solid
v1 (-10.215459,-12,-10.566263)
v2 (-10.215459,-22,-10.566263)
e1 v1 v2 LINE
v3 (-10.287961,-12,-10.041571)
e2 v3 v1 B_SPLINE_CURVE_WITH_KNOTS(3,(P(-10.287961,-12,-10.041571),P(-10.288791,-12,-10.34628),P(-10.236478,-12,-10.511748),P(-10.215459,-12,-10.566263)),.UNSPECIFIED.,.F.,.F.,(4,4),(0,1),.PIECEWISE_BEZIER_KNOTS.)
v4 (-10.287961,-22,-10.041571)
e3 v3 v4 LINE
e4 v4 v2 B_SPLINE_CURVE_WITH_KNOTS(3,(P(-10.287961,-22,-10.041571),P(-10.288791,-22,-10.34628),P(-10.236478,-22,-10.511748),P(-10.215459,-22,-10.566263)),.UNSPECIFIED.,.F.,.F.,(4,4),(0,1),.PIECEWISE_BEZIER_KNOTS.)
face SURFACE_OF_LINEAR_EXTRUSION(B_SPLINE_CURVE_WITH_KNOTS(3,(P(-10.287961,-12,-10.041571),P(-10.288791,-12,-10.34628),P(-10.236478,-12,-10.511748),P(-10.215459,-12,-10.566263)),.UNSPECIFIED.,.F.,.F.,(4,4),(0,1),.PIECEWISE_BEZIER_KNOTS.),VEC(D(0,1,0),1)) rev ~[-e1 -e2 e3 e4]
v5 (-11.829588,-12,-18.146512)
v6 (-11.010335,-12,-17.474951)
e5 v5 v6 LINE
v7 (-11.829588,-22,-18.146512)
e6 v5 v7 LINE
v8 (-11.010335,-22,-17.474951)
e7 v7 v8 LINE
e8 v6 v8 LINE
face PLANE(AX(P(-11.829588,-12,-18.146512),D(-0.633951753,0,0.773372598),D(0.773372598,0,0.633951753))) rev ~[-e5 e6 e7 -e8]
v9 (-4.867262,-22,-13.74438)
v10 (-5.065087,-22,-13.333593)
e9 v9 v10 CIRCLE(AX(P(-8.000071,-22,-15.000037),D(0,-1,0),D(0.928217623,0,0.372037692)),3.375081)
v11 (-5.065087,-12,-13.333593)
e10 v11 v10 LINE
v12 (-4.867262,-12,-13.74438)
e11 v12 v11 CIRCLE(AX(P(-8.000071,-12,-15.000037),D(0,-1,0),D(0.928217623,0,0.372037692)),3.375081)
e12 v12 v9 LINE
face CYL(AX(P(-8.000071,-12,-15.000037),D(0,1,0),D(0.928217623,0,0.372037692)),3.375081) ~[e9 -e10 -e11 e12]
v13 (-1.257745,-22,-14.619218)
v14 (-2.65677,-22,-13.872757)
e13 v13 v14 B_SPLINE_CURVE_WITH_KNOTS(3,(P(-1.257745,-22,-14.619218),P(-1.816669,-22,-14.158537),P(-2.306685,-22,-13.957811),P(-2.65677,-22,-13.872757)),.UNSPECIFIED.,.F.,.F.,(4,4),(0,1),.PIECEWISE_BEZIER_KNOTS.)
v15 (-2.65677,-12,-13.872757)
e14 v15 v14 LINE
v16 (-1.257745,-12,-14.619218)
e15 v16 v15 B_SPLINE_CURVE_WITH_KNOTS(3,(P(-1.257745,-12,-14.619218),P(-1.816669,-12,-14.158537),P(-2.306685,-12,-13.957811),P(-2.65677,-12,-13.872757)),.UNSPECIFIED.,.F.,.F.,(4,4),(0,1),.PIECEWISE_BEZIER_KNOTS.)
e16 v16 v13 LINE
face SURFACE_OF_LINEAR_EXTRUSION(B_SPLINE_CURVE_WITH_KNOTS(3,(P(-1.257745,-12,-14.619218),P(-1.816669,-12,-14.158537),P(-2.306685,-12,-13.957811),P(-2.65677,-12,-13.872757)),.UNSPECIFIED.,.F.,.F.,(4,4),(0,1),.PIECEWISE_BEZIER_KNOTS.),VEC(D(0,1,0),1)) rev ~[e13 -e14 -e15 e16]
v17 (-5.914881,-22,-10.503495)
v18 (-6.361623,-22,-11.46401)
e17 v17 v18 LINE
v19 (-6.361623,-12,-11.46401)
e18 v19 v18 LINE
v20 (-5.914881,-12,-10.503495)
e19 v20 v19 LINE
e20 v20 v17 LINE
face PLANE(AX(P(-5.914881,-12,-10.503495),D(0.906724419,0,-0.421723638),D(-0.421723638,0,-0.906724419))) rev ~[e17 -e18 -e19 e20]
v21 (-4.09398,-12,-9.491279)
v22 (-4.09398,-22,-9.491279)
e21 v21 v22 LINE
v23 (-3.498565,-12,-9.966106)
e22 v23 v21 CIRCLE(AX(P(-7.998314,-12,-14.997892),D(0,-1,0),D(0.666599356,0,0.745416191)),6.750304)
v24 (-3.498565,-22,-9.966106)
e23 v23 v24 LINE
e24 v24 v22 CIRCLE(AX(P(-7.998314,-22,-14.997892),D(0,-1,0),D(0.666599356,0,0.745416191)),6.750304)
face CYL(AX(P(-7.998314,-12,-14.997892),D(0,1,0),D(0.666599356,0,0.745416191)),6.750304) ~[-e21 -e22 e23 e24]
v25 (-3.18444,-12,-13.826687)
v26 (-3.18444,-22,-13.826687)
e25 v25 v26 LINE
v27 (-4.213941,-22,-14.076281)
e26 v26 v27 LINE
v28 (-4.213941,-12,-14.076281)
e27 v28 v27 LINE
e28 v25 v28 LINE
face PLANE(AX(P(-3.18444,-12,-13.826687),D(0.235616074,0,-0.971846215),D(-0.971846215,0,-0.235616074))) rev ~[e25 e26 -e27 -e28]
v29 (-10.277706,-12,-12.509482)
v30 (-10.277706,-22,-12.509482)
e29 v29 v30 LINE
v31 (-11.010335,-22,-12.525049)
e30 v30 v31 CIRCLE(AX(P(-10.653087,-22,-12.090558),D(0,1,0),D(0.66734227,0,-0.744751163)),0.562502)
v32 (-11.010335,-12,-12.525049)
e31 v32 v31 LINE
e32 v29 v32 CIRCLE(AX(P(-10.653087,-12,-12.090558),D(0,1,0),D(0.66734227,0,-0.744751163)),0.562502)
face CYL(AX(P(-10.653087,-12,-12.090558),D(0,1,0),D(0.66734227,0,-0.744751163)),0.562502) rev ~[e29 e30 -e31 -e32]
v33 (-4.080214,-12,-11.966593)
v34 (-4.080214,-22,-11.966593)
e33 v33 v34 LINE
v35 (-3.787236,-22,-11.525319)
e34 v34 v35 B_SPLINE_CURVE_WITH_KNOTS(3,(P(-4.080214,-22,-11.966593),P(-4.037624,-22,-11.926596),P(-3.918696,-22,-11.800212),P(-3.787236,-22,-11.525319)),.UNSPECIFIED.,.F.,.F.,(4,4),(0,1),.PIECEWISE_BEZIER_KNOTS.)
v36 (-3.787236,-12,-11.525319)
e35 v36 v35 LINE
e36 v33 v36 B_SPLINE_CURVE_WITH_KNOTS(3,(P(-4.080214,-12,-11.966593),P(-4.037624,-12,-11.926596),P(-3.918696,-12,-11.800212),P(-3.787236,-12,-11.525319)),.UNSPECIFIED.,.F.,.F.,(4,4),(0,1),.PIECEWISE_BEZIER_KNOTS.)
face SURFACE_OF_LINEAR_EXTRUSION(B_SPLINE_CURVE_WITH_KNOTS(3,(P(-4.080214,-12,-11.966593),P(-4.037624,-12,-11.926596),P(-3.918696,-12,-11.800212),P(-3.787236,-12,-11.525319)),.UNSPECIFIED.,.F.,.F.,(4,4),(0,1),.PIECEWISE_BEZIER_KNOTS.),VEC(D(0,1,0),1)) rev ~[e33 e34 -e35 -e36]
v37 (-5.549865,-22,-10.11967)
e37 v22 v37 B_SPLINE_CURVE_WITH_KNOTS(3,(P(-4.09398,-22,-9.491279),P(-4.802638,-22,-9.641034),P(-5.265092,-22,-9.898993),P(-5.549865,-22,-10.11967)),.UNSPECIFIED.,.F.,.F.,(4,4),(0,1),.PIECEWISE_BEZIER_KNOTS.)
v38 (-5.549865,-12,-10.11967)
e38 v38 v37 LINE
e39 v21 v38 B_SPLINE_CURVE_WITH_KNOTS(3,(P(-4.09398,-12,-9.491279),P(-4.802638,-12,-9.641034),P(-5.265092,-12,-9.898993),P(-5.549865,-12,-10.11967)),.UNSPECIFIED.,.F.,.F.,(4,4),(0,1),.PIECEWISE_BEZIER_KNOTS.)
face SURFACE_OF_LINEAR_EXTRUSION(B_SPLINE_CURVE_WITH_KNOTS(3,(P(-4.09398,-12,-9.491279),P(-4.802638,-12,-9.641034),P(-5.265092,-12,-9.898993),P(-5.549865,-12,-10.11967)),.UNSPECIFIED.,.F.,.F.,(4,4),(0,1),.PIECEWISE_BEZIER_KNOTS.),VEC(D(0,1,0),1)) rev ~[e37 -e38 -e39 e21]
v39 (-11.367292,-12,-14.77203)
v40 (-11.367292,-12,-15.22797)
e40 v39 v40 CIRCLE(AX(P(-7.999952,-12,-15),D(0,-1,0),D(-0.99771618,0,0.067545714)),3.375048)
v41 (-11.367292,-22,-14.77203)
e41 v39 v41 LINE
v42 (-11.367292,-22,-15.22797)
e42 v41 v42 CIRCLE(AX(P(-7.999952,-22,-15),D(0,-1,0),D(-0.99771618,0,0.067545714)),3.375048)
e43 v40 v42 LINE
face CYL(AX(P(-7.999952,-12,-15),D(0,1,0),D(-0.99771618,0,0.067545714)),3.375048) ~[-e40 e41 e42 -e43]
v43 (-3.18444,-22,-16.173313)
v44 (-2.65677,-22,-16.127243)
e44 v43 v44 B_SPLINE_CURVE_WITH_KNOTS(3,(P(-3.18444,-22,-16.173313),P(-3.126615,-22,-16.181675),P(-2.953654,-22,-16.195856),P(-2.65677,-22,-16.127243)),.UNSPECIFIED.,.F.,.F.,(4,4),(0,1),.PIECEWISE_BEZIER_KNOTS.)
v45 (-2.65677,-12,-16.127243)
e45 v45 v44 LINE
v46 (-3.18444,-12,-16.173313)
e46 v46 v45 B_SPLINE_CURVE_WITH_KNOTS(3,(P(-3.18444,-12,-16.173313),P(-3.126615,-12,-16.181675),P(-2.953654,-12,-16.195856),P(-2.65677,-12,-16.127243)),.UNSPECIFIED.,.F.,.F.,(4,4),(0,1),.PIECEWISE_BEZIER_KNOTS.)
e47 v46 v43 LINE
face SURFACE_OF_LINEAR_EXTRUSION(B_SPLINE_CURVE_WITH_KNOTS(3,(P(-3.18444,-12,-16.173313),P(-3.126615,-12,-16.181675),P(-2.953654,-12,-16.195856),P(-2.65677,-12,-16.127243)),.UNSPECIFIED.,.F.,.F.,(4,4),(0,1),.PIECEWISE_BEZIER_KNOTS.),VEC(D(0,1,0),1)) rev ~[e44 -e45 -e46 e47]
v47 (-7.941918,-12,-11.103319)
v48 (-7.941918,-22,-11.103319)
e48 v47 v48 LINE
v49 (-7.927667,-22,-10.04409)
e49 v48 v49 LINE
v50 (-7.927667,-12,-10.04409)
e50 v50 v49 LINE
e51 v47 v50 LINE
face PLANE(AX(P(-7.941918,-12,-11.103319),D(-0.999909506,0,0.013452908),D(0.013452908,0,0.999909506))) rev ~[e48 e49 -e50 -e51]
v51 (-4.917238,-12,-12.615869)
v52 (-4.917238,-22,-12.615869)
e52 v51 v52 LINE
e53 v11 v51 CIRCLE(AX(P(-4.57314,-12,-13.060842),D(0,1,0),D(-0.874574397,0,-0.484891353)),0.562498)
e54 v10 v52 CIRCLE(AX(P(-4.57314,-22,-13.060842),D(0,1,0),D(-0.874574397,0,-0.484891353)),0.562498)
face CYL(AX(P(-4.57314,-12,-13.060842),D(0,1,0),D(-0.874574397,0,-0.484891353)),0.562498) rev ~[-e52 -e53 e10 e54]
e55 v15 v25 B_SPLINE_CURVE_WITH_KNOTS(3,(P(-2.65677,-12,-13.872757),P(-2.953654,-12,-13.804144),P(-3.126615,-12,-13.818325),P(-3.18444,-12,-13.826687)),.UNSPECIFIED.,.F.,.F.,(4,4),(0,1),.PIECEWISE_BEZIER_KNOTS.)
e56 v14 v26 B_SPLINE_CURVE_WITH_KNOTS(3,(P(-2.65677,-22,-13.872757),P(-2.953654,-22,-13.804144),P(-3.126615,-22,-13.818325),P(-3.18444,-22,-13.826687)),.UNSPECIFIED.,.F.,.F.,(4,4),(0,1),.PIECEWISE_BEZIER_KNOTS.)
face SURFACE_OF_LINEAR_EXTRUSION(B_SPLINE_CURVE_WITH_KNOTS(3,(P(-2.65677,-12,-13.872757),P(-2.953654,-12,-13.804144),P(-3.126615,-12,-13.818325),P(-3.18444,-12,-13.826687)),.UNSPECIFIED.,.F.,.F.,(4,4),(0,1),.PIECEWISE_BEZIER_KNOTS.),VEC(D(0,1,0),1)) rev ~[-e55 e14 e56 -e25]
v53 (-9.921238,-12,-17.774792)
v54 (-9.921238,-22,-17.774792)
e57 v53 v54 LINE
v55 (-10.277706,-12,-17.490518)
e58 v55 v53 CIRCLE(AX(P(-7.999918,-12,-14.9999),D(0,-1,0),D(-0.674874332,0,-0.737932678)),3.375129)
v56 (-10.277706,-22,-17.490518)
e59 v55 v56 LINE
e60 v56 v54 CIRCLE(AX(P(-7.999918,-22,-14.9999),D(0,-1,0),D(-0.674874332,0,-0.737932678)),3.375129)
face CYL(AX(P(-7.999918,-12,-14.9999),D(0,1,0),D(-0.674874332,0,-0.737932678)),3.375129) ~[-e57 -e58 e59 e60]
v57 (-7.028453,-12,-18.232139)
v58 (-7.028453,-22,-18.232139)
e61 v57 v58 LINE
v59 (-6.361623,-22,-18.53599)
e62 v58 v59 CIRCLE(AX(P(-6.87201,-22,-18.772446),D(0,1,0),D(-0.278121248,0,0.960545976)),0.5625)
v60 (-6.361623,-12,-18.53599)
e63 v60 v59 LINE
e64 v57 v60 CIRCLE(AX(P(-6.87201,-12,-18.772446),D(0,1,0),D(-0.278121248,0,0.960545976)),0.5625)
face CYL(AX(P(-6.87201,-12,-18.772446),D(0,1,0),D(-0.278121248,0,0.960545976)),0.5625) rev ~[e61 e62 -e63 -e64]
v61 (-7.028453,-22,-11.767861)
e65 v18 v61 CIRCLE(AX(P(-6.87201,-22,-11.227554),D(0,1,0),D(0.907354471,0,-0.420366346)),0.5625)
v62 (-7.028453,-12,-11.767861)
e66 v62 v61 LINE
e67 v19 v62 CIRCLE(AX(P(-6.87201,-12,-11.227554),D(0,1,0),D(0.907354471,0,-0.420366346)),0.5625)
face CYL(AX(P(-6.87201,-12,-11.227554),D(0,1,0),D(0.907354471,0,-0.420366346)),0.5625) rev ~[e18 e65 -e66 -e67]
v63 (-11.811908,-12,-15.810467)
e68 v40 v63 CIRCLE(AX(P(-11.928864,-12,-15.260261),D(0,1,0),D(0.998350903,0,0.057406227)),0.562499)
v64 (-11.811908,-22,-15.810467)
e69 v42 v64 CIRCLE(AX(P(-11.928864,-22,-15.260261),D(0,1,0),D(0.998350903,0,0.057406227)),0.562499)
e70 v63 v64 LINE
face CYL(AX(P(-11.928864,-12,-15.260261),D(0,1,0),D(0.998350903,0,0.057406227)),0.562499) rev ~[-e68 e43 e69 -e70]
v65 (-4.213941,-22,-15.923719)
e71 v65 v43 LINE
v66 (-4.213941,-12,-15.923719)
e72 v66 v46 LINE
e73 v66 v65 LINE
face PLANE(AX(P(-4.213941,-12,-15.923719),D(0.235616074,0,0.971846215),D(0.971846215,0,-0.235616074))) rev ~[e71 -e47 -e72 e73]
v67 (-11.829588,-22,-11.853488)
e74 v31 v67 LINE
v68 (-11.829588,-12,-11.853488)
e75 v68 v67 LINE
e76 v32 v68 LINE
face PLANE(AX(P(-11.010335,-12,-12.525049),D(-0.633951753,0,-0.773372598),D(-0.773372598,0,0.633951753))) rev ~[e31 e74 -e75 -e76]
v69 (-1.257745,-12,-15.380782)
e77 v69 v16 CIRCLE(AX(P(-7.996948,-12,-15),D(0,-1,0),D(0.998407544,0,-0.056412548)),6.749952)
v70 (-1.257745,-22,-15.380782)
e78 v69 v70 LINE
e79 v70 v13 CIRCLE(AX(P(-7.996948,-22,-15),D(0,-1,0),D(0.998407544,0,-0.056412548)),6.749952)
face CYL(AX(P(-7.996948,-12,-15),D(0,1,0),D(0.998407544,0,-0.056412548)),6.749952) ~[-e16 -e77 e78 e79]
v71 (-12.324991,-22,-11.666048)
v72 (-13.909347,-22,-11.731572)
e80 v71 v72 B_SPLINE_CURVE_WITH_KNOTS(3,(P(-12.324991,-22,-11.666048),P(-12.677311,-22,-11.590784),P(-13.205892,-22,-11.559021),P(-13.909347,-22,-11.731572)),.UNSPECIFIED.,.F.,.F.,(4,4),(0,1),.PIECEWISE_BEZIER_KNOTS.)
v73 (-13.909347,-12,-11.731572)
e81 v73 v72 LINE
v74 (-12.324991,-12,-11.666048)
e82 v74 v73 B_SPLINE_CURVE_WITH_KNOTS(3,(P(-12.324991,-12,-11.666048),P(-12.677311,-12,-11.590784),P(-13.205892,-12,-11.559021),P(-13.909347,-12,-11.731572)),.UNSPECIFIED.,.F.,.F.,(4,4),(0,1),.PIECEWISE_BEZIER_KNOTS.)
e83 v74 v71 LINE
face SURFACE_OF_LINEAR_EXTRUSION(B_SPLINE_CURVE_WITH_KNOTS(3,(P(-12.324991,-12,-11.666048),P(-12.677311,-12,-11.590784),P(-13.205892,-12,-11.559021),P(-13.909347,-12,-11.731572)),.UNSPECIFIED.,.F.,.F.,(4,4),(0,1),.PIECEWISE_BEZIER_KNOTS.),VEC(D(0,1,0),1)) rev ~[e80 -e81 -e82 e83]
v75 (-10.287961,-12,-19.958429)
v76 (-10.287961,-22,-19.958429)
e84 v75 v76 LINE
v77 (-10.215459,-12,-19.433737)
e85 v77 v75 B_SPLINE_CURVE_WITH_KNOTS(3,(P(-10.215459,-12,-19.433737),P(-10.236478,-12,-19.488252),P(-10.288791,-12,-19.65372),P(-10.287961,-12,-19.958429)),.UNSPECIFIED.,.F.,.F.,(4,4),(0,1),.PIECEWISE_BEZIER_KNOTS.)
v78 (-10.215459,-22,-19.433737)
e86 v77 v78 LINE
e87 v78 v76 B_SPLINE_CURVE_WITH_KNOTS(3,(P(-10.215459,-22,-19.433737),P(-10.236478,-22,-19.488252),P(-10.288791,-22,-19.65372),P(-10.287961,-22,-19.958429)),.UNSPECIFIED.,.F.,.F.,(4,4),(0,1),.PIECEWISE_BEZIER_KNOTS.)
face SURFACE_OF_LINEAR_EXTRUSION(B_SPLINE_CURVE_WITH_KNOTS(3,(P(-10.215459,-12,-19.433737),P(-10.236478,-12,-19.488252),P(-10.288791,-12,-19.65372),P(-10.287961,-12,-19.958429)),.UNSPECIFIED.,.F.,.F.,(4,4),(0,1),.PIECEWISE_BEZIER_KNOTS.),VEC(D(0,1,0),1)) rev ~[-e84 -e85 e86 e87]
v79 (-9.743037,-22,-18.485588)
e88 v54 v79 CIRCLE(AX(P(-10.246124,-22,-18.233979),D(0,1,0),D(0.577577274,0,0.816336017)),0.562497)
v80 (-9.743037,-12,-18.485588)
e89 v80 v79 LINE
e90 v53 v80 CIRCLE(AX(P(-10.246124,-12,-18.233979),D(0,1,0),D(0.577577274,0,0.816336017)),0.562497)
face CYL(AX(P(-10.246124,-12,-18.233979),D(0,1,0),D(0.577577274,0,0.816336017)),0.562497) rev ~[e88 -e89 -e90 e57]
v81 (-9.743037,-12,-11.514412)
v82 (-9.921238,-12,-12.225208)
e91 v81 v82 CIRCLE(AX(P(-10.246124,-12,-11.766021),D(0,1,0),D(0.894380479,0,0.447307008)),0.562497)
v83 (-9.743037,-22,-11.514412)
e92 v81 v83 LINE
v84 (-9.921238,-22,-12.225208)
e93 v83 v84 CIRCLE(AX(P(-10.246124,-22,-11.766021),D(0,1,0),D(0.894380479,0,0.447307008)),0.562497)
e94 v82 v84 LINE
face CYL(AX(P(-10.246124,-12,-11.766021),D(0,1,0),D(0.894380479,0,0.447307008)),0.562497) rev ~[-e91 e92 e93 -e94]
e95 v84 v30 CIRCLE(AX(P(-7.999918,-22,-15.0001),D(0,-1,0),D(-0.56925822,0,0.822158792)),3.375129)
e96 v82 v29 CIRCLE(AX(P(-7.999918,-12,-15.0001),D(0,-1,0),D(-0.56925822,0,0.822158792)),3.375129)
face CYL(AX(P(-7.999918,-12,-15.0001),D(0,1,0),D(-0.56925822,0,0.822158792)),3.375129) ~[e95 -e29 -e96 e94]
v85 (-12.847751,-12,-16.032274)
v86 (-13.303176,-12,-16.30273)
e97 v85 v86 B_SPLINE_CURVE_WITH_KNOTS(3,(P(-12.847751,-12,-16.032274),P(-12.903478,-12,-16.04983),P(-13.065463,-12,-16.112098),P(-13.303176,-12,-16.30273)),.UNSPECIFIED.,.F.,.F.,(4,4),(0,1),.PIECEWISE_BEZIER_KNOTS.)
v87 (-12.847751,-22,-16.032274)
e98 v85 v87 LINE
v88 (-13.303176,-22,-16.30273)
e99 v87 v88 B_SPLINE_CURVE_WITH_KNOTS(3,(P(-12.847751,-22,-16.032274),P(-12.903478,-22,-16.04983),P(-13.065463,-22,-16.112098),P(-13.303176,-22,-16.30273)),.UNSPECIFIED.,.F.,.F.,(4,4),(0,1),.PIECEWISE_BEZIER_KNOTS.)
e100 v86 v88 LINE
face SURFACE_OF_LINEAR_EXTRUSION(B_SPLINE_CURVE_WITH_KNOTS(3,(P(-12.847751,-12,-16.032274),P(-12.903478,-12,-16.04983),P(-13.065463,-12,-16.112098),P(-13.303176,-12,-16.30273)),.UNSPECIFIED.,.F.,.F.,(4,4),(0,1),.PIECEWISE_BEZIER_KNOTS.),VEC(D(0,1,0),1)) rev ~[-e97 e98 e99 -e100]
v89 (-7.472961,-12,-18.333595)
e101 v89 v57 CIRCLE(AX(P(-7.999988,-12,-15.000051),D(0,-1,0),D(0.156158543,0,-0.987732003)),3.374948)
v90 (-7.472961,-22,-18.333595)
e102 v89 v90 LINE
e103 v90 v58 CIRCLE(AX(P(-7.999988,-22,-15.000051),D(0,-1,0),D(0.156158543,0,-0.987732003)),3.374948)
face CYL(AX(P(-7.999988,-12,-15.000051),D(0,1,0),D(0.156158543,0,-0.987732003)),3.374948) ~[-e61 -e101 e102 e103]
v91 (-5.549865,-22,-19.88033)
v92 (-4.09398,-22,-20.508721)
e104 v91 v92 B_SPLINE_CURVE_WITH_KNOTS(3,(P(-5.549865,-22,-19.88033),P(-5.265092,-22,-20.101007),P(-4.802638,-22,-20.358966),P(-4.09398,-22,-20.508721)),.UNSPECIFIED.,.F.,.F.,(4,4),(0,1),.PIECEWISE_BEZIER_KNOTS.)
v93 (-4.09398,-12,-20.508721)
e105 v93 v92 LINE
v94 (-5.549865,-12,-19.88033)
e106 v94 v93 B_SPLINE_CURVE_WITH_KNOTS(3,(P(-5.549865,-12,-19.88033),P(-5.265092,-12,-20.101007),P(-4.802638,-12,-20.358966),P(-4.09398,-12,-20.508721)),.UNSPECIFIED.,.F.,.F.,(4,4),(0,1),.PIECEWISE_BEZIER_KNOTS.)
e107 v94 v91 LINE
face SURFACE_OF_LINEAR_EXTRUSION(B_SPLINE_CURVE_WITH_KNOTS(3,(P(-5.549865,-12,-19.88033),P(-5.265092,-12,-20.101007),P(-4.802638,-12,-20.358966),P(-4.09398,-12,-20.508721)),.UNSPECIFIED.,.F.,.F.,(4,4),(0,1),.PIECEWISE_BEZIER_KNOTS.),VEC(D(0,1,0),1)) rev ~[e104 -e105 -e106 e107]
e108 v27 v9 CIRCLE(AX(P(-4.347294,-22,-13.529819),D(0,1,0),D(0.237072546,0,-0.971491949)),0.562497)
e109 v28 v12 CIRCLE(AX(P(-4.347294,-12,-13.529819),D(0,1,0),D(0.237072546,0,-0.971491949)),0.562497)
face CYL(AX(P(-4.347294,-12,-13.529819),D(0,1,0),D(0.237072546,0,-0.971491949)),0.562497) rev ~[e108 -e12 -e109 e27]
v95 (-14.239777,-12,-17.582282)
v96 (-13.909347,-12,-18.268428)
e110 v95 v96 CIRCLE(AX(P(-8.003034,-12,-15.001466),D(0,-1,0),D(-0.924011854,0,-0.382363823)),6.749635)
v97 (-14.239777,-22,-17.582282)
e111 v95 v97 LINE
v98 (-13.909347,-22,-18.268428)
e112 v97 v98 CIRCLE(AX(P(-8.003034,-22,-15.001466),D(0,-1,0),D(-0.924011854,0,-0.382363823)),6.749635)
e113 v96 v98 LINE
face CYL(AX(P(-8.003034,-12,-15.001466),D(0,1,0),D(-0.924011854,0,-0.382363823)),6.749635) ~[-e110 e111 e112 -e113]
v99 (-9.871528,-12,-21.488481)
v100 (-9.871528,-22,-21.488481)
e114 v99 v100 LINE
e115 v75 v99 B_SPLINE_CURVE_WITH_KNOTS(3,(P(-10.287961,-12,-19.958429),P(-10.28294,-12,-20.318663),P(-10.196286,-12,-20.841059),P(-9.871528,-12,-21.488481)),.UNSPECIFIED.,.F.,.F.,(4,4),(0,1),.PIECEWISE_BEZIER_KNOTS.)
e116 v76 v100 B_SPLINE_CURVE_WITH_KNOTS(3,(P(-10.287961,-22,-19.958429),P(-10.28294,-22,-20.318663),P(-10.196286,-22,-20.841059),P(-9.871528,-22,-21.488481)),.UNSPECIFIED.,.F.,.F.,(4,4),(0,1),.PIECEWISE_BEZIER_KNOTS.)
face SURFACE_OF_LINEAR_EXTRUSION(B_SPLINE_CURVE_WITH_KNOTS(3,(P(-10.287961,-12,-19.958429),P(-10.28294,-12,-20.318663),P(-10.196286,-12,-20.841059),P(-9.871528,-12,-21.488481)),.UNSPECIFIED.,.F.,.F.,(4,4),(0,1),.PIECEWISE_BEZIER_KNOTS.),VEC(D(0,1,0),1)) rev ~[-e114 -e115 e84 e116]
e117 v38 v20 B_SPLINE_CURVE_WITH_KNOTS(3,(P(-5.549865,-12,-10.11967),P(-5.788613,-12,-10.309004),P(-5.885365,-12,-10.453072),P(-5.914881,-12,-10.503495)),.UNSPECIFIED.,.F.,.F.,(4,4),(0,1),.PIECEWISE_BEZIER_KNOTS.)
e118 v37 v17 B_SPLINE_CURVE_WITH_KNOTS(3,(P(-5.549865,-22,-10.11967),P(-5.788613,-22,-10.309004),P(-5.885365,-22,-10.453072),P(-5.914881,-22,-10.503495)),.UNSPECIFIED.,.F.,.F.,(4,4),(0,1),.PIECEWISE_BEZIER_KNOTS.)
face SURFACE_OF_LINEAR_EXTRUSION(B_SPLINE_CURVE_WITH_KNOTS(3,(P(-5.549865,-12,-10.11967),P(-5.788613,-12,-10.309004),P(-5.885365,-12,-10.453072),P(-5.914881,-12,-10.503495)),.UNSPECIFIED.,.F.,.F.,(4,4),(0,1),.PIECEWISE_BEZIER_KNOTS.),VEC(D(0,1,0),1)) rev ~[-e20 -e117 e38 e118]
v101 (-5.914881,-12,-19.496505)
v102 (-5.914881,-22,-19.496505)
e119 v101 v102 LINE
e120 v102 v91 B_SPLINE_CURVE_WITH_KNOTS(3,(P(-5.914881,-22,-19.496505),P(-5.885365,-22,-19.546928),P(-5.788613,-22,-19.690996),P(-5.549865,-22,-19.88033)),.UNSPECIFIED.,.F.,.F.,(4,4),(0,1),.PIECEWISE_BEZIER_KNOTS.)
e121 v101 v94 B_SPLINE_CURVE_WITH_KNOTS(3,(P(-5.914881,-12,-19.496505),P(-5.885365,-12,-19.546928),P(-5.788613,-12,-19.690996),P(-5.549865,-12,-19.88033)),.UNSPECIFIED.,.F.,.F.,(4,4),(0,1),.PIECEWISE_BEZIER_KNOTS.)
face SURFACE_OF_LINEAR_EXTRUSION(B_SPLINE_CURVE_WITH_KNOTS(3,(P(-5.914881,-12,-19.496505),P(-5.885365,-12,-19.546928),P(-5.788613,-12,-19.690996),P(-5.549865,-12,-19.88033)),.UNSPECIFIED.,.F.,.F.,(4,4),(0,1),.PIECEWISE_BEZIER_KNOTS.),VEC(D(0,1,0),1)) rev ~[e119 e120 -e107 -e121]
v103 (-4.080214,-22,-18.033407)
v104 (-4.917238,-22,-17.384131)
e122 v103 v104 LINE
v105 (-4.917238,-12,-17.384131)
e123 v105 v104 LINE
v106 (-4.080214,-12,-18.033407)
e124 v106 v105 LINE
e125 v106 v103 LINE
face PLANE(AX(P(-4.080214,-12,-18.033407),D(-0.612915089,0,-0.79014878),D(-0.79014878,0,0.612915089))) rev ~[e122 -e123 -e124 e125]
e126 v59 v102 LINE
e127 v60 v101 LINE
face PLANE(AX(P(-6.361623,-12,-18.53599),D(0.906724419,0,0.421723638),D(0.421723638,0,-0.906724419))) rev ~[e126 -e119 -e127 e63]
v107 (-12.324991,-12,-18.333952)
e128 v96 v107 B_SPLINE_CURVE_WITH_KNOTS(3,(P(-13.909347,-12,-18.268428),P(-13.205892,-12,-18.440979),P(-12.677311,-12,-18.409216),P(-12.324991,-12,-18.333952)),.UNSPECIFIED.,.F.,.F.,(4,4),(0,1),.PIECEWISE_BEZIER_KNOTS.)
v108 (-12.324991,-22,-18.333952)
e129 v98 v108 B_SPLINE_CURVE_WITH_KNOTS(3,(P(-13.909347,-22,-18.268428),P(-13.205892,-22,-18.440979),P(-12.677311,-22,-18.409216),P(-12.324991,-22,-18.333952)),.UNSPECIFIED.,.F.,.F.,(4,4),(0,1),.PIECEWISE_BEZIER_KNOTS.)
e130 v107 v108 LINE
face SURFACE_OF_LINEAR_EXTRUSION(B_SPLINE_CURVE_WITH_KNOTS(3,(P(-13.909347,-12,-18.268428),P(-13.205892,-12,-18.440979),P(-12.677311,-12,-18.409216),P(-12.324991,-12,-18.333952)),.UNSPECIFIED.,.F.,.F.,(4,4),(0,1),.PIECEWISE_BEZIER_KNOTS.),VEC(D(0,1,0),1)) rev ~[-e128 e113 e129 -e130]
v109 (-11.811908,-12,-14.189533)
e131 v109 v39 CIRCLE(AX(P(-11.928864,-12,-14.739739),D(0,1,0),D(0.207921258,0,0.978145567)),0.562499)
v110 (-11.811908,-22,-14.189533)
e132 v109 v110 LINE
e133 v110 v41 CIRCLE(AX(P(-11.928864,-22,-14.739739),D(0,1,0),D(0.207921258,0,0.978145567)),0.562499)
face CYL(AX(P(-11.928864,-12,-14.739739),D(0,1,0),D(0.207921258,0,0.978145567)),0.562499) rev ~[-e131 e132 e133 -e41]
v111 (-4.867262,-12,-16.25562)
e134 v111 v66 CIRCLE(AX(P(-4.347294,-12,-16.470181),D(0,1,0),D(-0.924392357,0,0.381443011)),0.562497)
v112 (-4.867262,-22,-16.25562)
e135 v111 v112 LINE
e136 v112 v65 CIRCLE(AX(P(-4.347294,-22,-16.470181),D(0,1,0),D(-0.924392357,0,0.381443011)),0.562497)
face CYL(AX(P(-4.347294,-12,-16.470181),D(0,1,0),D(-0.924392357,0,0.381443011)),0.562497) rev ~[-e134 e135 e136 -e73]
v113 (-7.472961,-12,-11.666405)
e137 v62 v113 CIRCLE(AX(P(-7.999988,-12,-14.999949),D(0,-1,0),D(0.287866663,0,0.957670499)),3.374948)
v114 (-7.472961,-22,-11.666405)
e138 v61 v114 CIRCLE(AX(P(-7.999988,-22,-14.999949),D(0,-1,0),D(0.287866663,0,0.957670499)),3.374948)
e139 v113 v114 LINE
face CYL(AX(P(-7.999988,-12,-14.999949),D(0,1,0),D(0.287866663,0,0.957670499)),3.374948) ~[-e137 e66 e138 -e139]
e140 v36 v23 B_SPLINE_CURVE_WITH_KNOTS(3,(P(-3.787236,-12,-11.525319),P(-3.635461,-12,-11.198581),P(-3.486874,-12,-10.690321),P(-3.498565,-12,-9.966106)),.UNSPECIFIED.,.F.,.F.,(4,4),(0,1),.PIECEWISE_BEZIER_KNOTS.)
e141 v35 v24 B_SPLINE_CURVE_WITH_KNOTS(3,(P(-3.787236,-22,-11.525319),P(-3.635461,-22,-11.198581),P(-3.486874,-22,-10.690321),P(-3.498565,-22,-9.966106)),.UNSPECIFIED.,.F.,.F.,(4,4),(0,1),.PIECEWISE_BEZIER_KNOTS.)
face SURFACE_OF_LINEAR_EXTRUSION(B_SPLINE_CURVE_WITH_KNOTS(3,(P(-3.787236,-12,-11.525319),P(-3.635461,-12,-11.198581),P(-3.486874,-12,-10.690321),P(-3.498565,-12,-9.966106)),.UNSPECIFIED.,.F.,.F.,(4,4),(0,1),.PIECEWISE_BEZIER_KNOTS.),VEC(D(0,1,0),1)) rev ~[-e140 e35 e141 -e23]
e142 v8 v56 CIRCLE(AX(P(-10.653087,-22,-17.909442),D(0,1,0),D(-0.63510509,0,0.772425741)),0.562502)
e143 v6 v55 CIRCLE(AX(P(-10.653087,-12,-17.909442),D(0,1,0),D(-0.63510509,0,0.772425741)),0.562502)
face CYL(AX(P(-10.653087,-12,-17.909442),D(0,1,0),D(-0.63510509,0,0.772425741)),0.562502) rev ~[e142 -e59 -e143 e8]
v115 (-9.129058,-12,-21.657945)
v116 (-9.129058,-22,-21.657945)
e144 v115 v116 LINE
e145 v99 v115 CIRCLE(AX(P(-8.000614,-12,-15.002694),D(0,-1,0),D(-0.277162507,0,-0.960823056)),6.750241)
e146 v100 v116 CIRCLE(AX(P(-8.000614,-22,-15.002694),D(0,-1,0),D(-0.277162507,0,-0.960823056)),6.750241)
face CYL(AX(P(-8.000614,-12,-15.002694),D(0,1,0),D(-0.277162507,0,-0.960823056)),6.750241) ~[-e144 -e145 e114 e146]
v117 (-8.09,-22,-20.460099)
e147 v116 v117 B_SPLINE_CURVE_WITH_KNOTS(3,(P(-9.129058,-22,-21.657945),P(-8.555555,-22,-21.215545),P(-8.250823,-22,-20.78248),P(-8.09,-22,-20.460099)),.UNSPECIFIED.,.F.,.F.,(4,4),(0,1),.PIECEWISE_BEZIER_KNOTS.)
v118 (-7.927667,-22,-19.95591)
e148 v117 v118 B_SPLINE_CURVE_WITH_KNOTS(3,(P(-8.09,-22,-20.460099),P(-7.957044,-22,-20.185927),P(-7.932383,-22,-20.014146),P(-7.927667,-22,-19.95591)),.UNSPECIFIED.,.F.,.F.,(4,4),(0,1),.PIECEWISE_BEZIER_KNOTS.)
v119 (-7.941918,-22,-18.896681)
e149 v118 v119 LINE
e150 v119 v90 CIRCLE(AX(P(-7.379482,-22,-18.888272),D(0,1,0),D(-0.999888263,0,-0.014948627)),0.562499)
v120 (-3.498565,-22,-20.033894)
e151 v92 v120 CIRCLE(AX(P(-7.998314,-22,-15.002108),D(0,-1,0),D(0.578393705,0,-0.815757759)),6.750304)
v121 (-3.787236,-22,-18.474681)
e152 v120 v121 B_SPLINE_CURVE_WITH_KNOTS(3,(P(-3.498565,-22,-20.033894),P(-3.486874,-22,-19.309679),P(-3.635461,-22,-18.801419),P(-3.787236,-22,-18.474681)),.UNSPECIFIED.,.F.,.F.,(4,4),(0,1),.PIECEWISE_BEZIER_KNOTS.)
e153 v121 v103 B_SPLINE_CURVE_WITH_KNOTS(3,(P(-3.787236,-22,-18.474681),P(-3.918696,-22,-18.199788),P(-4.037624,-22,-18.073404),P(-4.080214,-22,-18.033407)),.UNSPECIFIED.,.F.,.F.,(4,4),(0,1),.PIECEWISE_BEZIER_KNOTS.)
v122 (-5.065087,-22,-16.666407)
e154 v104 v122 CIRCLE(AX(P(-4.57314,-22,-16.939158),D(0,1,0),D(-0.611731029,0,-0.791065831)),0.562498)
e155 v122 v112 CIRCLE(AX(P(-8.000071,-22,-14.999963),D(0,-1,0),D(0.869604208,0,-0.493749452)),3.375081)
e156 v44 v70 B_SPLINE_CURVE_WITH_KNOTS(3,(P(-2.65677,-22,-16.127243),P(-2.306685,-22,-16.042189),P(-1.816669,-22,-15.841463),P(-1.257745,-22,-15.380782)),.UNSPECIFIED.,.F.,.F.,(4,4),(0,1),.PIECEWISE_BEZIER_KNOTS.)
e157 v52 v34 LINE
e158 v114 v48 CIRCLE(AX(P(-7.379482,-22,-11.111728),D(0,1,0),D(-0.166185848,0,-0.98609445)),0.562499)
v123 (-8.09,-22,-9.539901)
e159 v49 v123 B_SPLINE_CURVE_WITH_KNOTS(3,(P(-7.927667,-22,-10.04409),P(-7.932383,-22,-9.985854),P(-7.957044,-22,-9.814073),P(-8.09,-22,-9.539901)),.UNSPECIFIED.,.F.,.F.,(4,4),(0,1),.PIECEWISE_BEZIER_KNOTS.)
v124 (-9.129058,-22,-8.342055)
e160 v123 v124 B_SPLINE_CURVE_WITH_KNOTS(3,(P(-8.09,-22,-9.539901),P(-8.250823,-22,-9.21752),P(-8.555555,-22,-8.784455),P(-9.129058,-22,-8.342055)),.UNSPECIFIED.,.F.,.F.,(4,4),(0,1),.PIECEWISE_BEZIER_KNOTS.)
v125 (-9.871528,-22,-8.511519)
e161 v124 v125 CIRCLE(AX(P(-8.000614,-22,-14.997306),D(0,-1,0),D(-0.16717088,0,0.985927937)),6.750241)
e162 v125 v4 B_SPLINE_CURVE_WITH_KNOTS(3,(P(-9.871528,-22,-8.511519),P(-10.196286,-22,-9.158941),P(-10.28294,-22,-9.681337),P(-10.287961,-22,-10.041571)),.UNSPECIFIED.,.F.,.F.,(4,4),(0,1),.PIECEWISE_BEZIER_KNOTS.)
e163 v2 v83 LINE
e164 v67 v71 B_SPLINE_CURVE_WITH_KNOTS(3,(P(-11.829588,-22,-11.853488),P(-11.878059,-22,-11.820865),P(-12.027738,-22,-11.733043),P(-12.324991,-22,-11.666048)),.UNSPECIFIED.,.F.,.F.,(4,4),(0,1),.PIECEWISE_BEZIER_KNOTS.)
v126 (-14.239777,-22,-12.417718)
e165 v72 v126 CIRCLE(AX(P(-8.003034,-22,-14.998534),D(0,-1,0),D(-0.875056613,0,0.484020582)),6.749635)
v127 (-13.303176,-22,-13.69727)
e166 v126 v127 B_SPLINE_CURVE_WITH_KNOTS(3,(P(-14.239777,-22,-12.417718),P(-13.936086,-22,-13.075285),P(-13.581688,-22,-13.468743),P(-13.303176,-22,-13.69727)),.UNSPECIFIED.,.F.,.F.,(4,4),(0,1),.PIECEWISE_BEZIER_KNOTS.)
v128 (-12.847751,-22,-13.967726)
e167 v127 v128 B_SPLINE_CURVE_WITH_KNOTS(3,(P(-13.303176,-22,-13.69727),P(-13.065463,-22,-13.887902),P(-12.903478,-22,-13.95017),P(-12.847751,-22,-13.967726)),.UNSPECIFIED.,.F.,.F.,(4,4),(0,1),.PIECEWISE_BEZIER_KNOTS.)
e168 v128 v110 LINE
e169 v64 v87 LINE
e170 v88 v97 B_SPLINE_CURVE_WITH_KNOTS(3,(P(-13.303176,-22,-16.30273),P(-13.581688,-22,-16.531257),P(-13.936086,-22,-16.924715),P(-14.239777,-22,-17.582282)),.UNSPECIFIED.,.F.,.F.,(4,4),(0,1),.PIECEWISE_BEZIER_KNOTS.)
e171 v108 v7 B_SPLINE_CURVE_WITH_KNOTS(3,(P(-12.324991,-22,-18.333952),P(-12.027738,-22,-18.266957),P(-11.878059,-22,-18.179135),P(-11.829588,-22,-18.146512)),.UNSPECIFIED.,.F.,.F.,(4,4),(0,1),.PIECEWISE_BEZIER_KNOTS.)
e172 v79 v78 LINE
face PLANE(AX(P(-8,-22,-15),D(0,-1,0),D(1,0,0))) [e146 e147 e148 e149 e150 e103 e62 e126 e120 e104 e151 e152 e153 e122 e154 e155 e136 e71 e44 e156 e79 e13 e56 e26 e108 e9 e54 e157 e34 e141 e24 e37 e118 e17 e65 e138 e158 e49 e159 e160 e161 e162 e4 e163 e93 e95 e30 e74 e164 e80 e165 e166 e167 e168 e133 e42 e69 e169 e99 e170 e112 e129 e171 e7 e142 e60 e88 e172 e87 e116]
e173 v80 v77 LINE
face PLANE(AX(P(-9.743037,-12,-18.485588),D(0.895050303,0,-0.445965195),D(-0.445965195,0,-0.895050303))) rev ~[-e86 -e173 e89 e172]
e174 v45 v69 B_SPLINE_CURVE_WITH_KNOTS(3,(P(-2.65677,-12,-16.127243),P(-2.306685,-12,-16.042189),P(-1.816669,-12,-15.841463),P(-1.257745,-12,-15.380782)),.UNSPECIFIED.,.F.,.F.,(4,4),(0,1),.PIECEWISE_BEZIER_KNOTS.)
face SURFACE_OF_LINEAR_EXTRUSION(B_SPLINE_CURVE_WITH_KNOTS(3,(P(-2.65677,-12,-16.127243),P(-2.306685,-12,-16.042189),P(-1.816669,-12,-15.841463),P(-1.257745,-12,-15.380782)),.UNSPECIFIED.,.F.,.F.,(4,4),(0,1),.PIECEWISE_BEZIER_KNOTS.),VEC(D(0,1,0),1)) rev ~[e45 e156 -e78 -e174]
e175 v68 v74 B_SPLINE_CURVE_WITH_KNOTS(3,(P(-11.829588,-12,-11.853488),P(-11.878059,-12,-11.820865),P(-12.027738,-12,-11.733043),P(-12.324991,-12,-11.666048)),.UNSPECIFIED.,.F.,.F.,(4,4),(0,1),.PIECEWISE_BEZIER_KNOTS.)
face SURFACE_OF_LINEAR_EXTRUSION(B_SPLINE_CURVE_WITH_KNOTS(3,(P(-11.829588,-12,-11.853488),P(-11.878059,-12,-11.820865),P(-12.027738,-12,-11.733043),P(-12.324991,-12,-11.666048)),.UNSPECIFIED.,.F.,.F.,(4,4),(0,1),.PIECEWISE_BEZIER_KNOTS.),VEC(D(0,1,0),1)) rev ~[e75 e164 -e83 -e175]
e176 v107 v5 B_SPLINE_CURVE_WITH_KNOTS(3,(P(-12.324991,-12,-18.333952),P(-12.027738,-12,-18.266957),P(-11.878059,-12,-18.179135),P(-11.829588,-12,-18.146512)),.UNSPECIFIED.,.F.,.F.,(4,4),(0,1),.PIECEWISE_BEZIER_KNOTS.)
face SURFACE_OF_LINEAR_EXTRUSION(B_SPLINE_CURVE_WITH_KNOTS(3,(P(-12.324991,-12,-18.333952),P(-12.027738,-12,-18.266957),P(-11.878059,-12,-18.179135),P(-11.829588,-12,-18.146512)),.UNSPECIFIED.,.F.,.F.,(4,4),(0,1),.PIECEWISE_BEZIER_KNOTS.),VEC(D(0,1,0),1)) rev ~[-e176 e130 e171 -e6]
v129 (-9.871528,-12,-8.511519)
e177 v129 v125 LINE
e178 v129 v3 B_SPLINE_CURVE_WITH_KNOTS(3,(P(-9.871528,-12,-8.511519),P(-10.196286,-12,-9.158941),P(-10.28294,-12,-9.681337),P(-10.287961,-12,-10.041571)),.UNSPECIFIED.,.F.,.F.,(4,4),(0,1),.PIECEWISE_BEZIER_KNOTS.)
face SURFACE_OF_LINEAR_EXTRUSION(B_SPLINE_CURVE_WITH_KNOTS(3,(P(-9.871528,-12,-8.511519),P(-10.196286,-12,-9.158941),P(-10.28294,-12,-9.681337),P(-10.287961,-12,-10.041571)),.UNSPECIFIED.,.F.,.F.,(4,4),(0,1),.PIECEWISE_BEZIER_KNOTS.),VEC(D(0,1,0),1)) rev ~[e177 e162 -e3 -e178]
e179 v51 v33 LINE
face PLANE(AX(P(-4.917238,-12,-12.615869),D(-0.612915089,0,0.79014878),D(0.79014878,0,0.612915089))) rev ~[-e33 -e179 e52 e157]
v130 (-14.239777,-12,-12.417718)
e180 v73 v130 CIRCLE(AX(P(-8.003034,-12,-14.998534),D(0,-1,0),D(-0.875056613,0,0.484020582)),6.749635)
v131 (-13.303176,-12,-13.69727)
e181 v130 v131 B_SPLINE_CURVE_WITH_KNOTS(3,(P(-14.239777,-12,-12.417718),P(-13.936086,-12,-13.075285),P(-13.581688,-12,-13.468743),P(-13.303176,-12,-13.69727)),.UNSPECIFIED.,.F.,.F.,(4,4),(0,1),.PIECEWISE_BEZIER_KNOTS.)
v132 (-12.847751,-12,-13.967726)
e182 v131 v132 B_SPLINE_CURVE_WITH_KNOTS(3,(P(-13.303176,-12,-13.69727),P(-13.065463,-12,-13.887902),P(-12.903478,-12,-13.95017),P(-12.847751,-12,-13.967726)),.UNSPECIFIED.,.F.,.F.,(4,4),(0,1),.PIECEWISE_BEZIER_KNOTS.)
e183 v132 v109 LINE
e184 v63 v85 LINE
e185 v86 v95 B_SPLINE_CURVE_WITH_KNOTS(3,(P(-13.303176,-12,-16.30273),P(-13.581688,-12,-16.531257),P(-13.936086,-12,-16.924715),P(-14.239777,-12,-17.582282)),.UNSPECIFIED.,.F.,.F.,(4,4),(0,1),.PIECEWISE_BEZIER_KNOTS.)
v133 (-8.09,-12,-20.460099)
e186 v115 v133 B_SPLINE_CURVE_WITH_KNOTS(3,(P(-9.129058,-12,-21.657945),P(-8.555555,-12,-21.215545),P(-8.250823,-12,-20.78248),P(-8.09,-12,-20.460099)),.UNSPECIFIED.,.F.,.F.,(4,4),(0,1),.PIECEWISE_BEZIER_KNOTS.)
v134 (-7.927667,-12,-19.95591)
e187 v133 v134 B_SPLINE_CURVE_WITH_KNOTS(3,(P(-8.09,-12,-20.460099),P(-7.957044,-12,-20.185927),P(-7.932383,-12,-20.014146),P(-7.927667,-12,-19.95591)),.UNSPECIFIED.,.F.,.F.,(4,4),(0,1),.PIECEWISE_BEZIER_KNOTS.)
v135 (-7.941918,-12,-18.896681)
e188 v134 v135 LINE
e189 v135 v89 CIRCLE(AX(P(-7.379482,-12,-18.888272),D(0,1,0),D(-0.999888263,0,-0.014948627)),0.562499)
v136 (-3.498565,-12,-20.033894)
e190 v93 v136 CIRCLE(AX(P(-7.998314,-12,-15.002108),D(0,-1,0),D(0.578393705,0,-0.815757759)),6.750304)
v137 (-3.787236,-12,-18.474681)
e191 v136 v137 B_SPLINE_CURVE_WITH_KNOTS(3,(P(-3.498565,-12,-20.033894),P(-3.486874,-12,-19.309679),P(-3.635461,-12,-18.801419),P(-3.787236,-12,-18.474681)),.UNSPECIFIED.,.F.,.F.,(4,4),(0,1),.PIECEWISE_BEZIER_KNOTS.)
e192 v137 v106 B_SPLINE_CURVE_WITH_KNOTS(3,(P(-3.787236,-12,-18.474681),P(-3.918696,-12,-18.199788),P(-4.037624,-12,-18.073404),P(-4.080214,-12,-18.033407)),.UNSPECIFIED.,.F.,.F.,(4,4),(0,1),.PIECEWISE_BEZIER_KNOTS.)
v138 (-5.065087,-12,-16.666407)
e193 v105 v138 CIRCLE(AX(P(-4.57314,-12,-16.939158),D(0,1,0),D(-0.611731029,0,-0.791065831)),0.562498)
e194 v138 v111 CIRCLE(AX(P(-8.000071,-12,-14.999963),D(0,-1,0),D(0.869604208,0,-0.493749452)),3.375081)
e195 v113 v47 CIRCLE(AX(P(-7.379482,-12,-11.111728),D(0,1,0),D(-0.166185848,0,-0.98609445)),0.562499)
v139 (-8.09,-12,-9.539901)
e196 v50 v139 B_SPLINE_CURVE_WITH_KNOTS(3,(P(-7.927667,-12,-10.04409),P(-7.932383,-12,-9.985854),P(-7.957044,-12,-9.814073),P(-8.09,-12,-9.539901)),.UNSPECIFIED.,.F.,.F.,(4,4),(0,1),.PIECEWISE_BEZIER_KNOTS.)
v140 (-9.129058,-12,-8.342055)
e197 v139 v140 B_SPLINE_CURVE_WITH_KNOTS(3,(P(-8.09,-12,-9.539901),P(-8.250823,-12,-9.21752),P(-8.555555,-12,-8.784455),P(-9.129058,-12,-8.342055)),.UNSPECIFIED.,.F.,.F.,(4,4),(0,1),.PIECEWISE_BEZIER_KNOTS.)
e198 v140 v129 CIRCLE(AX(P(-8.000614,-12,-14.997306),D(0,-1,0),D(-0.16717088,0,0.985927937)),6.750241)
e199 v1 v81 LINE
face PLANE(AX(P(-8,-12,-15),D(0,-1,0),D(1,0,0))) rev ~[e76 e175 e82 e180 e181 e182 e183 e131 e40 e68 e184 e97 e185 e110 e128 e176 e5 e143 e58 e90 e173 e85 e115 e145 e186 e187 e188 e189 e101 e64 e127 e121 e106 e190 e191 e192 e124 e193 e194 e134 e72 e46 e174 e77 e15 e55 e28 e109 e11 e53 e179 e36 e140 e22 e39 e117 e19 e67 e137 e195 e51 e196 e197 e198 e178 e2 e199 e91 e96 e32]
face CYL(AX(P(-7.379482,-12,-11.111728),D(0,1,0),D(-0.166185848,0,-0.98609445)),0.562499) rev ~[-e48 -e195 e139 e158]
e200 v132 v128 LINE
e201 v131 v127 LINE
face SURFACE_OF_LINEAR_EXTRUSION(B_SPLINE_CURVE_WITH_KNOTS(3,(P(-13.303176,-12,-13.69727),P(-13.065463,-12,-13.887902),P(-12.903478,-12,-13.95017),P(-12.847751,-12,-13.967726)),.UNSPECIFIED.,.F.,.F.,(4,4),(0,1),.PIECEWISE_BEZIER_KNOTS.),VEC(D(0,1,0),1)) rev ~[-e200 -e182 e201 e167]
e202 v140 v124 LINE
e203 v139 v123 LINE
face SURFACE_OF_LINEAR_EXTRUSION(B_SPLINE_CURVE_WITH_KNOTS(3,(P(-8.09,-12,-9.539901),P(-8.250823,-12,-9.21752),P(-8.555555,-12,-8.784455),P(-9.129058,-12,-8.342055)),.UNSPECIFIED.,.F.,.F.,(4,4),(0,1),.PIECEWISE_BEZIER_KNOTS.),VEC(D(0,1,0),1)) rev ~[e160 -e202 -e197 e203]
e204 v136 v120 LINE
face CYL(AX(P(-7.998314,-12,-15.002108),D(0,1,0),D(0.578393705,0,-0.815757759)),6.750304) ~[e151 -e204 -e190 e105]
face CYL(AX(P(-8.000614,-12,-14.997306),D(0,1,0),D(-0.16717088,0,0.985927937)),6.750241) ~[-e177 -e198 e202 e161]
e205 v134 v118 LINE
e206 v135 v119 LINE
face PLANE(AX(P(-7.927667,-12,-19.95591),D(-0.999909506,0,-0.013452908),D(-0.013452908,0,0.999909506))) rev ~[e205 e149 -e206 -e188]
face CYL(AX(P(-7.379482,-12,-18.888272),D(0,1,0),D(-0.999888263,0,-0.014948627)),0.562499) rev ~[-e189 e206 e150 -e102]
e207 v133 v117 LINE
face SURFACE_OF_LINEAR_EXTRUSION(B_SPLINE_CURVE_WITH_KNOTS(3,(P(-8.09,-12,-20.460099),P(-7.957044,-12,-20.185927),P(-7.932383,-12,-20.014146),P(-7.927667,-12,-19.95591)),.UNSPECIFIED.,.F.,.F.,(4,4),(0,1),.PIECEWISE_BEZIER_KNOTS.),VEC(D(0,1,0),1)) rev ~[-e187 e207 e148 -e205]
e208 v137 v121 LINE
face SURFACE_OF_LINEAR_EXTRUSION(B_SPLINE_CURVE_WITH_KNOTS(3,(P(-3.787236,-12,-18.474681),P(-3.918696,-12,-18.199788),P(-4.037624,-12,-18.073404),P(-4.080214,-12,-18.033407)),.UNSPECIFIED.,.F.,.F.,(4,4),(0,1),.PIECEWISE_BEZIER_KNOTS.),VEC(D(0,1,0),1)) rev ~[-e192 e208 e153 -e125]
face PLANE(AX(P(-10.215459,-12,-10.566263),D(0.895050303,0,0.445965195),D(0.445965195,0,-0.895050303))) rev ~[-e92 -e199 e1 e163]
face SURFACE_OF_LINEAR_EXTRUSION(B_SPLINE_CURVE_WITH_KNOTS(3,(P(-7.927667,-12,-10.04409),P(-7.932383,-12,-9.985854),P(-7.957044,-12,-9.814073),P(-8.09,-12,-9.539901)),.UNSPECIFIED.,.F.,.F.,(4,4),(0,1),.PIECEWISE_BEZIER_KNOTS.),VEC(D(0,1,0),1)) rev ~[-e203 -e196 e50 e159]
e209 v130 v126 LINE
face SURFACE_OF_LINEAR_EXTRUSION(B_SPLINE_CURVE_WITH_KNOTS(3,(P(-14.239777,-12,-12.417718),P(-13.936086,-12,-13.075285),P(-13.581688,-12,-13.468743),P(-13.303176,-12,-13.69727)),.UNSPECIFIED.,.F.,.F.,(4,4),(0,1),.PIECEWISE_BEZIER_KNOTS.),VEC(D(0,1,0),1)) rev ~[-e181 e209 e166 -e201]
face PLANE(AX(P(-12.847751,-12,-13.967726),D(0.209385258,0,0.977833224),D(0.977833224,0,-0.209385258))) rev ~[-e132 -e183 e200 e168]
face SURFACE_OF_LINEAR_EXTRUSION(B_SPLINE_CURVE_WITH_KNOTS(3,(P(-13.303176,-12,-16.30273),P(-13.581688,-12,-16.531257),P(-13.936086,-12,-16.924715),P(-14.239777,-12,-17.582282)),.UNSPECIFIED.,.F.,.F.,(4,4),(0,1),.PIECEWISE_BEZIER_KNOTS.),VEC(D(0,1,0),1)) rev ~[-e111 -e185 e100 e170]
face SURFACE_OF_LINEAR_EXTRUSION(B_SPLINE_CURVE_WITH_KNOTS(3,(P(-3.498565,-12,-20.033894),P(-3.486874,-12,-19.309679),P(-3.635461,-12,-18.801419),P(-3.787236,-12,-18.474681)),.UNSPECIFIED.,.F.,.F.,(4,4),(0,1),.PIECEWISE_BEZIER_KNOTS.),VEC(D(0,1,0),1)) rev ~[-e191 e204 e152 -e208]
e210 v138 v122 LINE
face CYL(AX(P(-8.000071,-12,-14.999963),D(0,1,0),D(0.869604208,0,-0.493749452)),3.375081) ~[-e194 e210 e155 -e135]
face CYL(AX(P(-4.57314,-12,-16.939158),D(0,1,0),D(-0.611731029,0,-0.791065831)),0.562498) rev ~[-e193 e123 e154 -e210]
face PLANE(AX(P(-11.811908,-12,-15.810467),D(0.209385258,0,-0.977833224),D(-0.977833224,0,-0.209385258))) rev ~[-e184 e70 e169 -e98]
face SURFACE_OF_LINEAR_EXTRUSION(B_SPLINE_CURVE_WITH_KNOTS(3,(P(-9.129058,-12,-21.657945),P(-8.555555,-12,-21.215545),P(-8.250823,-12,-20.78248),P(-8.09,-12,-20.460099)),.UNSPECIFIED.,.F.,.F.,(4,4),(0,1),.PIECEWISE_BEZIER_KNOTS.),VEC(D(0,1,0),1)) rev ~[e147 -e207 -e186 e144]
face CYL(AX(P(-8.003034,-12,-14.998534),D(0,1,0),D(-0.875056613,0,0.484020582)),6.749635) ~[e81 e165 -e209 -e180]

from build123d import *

# Parameters (mm, degrees)
PAD003_DEPTH = 10
SKETCH012_R  = 0.537359
POCKET_DEPTH = 10.001


with BuildPart() as ruota_dentata_motore:
    # InvoluteGear001 → Pad003 (new body)
    with BuildSketch(Plane(origin=(-1, 0, -18.8), x_dir=(1, 0, 0), z_dir=(0, -1, 0))):
        with BuildLine():
            Line((3.786059, -0.923719), (4.81556, -1.173313))
            add(Edge.make_bspline(
                [(4.81556, -1.173313), (4.873385, -1.181675), (5.046346, -1.195856), (5.34323, -1.127243)],
                knots=[0, 0, 0, 0, 1, 1, 1, 1], degree=3))
            add(Edge.make_bspline(
                [(5.34323, -1.127243), (5.693315, -1.042189), (6.183331, -0.841463), (6.742255, -0.380782)],
                knots=[0, 0, 0, 0, 1, 1, 1, 1], degree=3))
            ThreePointArc((6.742255, -0.380782), (6.753004, 0), (6.742255, 0.380782))
            add(Edge.make_bspline(
                [(6.742255, 0.380782), (6.183331, 0.841463), (5.693315, 1.042189), (5.34323, 1.127243)],
                knots=[0, 0, 0, 0, 1, 1, 1, 1], degree=3))
            add(Edge.make_bspline(
                [(5.34323, 1.127243), (5.046346, 1.195856), (4.873385, 1.181675), (4.81556, 1.173313)],
                knots=[0, 0, 0, 0, 1, 1, 1, 1], degree=3))
            Line((4.81556, 1.173313), (3.786059, 0.923719))
            ThreePointArc((3.786059, 0.923719), (3.397937, 0.968687), (3.132738, 1.25562))
            ThreePointArc((3.132738, 1.25562), (3.04077, 1.464358), (2.934913, 1.666407))
            ThreePointArc((2.934913, 1.666407), (2.875929, 2.052647), (3.082762, 2.384131))
            Line((3.082762, 2.384131), (3.919786, 3.033407))
            add(Edge.make_bspline(
                [(3.919786, 3.033407), (3.962376, 3.073404), (4.081304, 3.199788), (4.212764, 3.474681)],
                knots=[0, 0, 0, 0, 1, 1, 1, 1], degree=3))
            add(Edge.make_bspline(
                [(4.212764, 3.474681), (4.364539, 3.801419), (4.513126, 4.309679), (4.501435, 5.033894)],
                knots=[0, 0, 0, 0, 1, 1, 1, 1], degree=3))
            ThreePointArc((4.501435, 5.033894), (4.210429, 5.279711), (3.90602, 5.508721))
            add(Edge.make_bspline(
                [(3.90602, 5.508721), (3.197362, 5.358966), (2.734908, 5.101007), (2.450135, 4.88033)],
                knots=[0, 0, 0, 0, 1, 1, 1, 1], degree=3))
            add(Edge.make_bspline(
                [(2.450135, 4.88033), (2.211387, 4.690996), (2.114635, 4.546928), (2.085119, 4.496505)],
                knots=[0, 0, 0, 0, 1, 1, 1, 1], degree=3))
            Line((2.085119, 4.496505), (1.638377, 3.53599))
            ThreePointArc((1.638377, 3.53599), (1.361229, 3.260581), (0.971547, 3.232139))
            ThreePointArc((0.971547, 3.232139), (0.751008, 3.290382), (0.527039, 3.333595))
            ThreePointArc((0.527039, 3.333595), (0.188288, 3.528297), (0.058082, 3.896681))
            Line((0.058082, 3.896681), (0.072333, 4.95591))
            add(Edge.make_bspline(
                [(0.072333, 4.95591), (0.067617, 5.014146), (0.042956, 5.185927), (-0.09, 5.460099)],
                knots=[0, 0, 0, 0, 1, 1, 1, 1], degree=3))
            add(Edge.make_bspline(
                [(-0.09, 5.460099), (-0.250823, 5.78248), (-0.555555, 6.215545), (-1.129058, 6.657945)],
                knots=[0, 0, 0, 0, 1, 1, 1, 1], degree=3))
            ThreePointArc((-1.129058, 6.657945), (-1.502685, 6.583692), (-1.871528, 6.488481))
            add(Edge.make_bspline(
                [(-1.871528, 6.488481), (-2.196286, 5.841059), (-2.28294, 5.318663), (-2.287961, 4.958429)],
                knots=[0, 0, 0, 0, 1, 1, 1, 1], degree=3))
            add(Edge.make_bspline(
                [(-2.287961, 4.958429), (-2.288791, 4.65372), (-2.236478, 4.488252), (-2.215459, 4.433737)],
                knots=[0, 0, 0, 0, 1, 1, 1, 1], degree=3))
            Line((-2.215459, 4.433737), (-1.743037, 3.485588))
            ThreePointArc((-1.743037, 3.485588), (-1.700512, 3.09719), (-1.921238, 2.774792))
            ThreePointArc((-1.921238, 2.774792), (-2.104278, 2.638681), (-2.277706, 2.490518))
            ThreePointArc((-2.277706, 2.490518), (-2.641138, 2.347067), (-3.010335, 2.474951))
            Line((-3.010335, 2.474951), (-3.829588, 3.146512))
            add(Edge.make_bspline(
                [(-3.829588, 3.146512), (-3.878059, 3.179135), (-4.027738, 3.266957), (-4.324991, 3.333952)],
                knots=[0, 0, 0, 0, 1, 1, 1, 1], degree=3))
            add(Edge.make_bspline(
                [(-4.324991, 3.333952), (-4.677311, 3.409216), (-5.205892, 3.440979), (-5.909347, 3.268428)],
                knots=[0, 0, 0, 0, 1, 1, 1, 1], degree=3))
            ThreePointArc((-5.909347, 3.268428), (-6.084247, 2.930019), (-6.239777, 2.582282))
            add(Edge.make_bspline(
                [(-6.239777, 2.582282), (-5.936086, 1.924715), (-5.581688, 1.531257), (-5.303176, 1.30273)],
                knots=[0, 0, 0, 0, 1, 1, 1, 1], degree=3))
            add(Edge.make_bspline(
                [(-5.303176, 1.30273), (-5.065463, 1.112098), (-4.903478, 1.04983), (-4.847751, 1.032274)],
                knots=[0, 0, 0, 0, 1, 1, 1, 1], degree=3))
            Line((-4.847751, 1.032274), (-3.811908, 0.810467))
            ThreePointArc((-3.811908, 0.810467), (-3.481733, 0.601552), (-3.367292, 0.22797))
            ThreePointArc((-3.367292, 0.22797), (-3.375, 0), (-3.367292, -0.22797))
            ThreePointArc((-3.367292, -0.22797), (-3.481733, -0.601552), (-3.811908, -0.810467))
            Line((-3.811908, -0.810467), (-4.847751, -1.032274))
            add(Edge.make_bspline(
                [(-4.847751, -1.032274), (-4.903478, -1.04983), (-5.065463, -1.112098), (-5.303176, -1.30273)],
                knots=[0, 0, 0, 0, 1, 1, 1, 1], degree=3))
            add(Edge.make_bspline(
                [(-5.303176, -1.30273), (-5.581688, -1.531257), (-5.936086, -1.924715), (-6.239777, -2.582282)],
                knots=[0, 0, 0, 0, 1, 1, 1, 1], degree=3))
            ThreePointArc((-6.239777, -2.582282), (-6.084247, -2.930019), (-5.909347, -3.268428))
            add(Edge.make_bspline(
                [(-5.909347, -3.268428), (-5.205892, -3.440979), (-4.677311, -3.409216), (-4.324991, -3.333952)],
                knots=[0, 0, 0, 0, 1, 1, 1, 1], degree=3))
            add(Edge.make_bspline(
                [(-4.324991, -3.333952), (-4.027738, -3.266957), (-3.878059, -3.179135), (-3.829588, -3.146512)],
                knots=[0, 0, 0, 0, 1, 1, 1, 1], degree=3))
            Line((-3.829588, -3.146512), (-3.010335, -2.474951))
            ThreePointArc((-3.010335, -2.474951), (-2.641138, -2.347067), (-2.277706, -2.490518))
            ThreePointArc((-2.277706, -2.490518), (-2.104278, -2.638681), (-1.921238, -2.774792))
            ThreePointArc((-1.921238, -2.774792), (-1.700512, -3.09719), (-1.743037, -3.485588))
            Line((-1.743037, -3.485588), (-2.215459, -4.433737))
            add(Edge.make_bspline(
                [(-2.215459, -4.433737), (-2.236478, -4.488252), (-2.288791, -4.65372), (-2.287961, -4.958429)],
                knots=[0, 0, 0, 0, 1, 1, 1, 1], degree=3))
            add(Edge.make_bspline(
                [(-2.287961, -4.958429), (-2.28294, -5.318663), (-2.196286, -5.841059), (-1.871528, -6.488481)],
                knots=[0, 0, 0, 0, 1, 1, 1, 1], degree=3))
            ThreePointArc((-1.871528, -6.488481), (-1.502685, -6.583692), (-1.129058, -6.657945))
            add(Edge.make_bspline(
                [(-1.129058, -6.657945), (-0.555555, -6.215545), (-0.250823, -5.78248), (-0.09, -5.460099)],
                knots=[0, 0, 0, 0, 1, 1, 1, 1], degree=3))
            add(Edge.make_bspline(
                [(-0.09, -5.460099), (0.042956, -5.185927), (0.067617, -5.014146), (0.072333, -4.95591)],
                knots=[0, 0, 0, 0, 1, 1, 1, 1], degree=3))
            Line((0.072333, -4.95591), (0.058082, -3.896681))
            ThreePointArc((0.058082, -3.896681), (0.188288, -3.528297), (0.527039, -3.333595))
            ThreePointArc((0.527039, -3.333595), (0.751008, -3.290382), (0.971547, -3.232139))
            ThreePointArc((0.971547, -3.232139), (1.361229, -3.260581), (1.638377, -3.53599))
            Line((1.638377, -3.53599), (2.085119, -4.496505))
            add(Edge.make_bspline(
                [(2.085119, -4.496505), (2.114635, -4.546928), (2.211387, -4.690996), (2.450135, -4.88033)],
                knots=[0, 0, 0, 0, 1, 1, 1, 1], degree=3))
            add(Edge.make_bspline(
                [(2.450135, -4.88033), (2.734908, -5.101007), (3.197362, -5.358966), (3.90602, -5.508721)],
                knots=[0, 0, 0, 0, 1, 1, 1, 1], degree=3))
            ThreePointArc((3.90602, -5.508721), (4.210429, -5.279711), (4.501435, -5.033894))
            add(Edge.make_bspline(
                [(4.501435, -5.033894), (4.513126, -4.309679), (4.364539, -3.801419), (4.212764, -3.474681)],
                knots=[0, 0, 0, 0, 1, 1, 1, 1], degree=3))
            add(Edge.make_bspline(
                [(4.212764, -3.474681), (4.081304, -3.199788), (3.962376, -3.073404), (3.919786, -3.033407)],
                knots=[0, 0, 0, 0, 1, 1, 1, 1], degree=3))
            Line((3.919786, -3.033407), (3.082762, -2.384131))
            ThreePointArc((3.082762, -2.384131), (2.875929, -2.052647), (2.934913, -1.666407))
            ThreePointArc((2.934913, -1.666407), (3.04077, -1.464358), (3.132738, -1.25562))
            ThreePointArc((3.132738, -1.25562), (3.397937, -0.968687), (3.786059, -0.923719))
        make_face()
    extrude(amount=PAD003_DEPTH)


with BuildPart() as ruota_dentata_motore_con_buco:
    # Pocket base: copy of ruota_dentata_motore
    add(ruota_dentata_motore.part)

    # Sketch012 → Pocket (cut, through all)
    with BuildSketch(Plane(origin=(-1, -10, -18.8), x_dir=(1, 0, 0), z_dir=(0, -1, 0))):
        Circle(SKETCH012_R)
    extrude(amount=-POCKET_DEPTH, mode=Mode.SUBTRACT)

    # Fusion004: union ruota_dentata_motore
    add(ruota_dentata_motore.part)


with BuildPart() as ruota_dentata_motore_con_buco_1:
    # Fusion004 placement: moved
    add(ruota_dentata_motore_con_buco.part.moved(Location((-7, -12, 3.8))))


solid = ruota_dentata_motore_con_buco_1.part
